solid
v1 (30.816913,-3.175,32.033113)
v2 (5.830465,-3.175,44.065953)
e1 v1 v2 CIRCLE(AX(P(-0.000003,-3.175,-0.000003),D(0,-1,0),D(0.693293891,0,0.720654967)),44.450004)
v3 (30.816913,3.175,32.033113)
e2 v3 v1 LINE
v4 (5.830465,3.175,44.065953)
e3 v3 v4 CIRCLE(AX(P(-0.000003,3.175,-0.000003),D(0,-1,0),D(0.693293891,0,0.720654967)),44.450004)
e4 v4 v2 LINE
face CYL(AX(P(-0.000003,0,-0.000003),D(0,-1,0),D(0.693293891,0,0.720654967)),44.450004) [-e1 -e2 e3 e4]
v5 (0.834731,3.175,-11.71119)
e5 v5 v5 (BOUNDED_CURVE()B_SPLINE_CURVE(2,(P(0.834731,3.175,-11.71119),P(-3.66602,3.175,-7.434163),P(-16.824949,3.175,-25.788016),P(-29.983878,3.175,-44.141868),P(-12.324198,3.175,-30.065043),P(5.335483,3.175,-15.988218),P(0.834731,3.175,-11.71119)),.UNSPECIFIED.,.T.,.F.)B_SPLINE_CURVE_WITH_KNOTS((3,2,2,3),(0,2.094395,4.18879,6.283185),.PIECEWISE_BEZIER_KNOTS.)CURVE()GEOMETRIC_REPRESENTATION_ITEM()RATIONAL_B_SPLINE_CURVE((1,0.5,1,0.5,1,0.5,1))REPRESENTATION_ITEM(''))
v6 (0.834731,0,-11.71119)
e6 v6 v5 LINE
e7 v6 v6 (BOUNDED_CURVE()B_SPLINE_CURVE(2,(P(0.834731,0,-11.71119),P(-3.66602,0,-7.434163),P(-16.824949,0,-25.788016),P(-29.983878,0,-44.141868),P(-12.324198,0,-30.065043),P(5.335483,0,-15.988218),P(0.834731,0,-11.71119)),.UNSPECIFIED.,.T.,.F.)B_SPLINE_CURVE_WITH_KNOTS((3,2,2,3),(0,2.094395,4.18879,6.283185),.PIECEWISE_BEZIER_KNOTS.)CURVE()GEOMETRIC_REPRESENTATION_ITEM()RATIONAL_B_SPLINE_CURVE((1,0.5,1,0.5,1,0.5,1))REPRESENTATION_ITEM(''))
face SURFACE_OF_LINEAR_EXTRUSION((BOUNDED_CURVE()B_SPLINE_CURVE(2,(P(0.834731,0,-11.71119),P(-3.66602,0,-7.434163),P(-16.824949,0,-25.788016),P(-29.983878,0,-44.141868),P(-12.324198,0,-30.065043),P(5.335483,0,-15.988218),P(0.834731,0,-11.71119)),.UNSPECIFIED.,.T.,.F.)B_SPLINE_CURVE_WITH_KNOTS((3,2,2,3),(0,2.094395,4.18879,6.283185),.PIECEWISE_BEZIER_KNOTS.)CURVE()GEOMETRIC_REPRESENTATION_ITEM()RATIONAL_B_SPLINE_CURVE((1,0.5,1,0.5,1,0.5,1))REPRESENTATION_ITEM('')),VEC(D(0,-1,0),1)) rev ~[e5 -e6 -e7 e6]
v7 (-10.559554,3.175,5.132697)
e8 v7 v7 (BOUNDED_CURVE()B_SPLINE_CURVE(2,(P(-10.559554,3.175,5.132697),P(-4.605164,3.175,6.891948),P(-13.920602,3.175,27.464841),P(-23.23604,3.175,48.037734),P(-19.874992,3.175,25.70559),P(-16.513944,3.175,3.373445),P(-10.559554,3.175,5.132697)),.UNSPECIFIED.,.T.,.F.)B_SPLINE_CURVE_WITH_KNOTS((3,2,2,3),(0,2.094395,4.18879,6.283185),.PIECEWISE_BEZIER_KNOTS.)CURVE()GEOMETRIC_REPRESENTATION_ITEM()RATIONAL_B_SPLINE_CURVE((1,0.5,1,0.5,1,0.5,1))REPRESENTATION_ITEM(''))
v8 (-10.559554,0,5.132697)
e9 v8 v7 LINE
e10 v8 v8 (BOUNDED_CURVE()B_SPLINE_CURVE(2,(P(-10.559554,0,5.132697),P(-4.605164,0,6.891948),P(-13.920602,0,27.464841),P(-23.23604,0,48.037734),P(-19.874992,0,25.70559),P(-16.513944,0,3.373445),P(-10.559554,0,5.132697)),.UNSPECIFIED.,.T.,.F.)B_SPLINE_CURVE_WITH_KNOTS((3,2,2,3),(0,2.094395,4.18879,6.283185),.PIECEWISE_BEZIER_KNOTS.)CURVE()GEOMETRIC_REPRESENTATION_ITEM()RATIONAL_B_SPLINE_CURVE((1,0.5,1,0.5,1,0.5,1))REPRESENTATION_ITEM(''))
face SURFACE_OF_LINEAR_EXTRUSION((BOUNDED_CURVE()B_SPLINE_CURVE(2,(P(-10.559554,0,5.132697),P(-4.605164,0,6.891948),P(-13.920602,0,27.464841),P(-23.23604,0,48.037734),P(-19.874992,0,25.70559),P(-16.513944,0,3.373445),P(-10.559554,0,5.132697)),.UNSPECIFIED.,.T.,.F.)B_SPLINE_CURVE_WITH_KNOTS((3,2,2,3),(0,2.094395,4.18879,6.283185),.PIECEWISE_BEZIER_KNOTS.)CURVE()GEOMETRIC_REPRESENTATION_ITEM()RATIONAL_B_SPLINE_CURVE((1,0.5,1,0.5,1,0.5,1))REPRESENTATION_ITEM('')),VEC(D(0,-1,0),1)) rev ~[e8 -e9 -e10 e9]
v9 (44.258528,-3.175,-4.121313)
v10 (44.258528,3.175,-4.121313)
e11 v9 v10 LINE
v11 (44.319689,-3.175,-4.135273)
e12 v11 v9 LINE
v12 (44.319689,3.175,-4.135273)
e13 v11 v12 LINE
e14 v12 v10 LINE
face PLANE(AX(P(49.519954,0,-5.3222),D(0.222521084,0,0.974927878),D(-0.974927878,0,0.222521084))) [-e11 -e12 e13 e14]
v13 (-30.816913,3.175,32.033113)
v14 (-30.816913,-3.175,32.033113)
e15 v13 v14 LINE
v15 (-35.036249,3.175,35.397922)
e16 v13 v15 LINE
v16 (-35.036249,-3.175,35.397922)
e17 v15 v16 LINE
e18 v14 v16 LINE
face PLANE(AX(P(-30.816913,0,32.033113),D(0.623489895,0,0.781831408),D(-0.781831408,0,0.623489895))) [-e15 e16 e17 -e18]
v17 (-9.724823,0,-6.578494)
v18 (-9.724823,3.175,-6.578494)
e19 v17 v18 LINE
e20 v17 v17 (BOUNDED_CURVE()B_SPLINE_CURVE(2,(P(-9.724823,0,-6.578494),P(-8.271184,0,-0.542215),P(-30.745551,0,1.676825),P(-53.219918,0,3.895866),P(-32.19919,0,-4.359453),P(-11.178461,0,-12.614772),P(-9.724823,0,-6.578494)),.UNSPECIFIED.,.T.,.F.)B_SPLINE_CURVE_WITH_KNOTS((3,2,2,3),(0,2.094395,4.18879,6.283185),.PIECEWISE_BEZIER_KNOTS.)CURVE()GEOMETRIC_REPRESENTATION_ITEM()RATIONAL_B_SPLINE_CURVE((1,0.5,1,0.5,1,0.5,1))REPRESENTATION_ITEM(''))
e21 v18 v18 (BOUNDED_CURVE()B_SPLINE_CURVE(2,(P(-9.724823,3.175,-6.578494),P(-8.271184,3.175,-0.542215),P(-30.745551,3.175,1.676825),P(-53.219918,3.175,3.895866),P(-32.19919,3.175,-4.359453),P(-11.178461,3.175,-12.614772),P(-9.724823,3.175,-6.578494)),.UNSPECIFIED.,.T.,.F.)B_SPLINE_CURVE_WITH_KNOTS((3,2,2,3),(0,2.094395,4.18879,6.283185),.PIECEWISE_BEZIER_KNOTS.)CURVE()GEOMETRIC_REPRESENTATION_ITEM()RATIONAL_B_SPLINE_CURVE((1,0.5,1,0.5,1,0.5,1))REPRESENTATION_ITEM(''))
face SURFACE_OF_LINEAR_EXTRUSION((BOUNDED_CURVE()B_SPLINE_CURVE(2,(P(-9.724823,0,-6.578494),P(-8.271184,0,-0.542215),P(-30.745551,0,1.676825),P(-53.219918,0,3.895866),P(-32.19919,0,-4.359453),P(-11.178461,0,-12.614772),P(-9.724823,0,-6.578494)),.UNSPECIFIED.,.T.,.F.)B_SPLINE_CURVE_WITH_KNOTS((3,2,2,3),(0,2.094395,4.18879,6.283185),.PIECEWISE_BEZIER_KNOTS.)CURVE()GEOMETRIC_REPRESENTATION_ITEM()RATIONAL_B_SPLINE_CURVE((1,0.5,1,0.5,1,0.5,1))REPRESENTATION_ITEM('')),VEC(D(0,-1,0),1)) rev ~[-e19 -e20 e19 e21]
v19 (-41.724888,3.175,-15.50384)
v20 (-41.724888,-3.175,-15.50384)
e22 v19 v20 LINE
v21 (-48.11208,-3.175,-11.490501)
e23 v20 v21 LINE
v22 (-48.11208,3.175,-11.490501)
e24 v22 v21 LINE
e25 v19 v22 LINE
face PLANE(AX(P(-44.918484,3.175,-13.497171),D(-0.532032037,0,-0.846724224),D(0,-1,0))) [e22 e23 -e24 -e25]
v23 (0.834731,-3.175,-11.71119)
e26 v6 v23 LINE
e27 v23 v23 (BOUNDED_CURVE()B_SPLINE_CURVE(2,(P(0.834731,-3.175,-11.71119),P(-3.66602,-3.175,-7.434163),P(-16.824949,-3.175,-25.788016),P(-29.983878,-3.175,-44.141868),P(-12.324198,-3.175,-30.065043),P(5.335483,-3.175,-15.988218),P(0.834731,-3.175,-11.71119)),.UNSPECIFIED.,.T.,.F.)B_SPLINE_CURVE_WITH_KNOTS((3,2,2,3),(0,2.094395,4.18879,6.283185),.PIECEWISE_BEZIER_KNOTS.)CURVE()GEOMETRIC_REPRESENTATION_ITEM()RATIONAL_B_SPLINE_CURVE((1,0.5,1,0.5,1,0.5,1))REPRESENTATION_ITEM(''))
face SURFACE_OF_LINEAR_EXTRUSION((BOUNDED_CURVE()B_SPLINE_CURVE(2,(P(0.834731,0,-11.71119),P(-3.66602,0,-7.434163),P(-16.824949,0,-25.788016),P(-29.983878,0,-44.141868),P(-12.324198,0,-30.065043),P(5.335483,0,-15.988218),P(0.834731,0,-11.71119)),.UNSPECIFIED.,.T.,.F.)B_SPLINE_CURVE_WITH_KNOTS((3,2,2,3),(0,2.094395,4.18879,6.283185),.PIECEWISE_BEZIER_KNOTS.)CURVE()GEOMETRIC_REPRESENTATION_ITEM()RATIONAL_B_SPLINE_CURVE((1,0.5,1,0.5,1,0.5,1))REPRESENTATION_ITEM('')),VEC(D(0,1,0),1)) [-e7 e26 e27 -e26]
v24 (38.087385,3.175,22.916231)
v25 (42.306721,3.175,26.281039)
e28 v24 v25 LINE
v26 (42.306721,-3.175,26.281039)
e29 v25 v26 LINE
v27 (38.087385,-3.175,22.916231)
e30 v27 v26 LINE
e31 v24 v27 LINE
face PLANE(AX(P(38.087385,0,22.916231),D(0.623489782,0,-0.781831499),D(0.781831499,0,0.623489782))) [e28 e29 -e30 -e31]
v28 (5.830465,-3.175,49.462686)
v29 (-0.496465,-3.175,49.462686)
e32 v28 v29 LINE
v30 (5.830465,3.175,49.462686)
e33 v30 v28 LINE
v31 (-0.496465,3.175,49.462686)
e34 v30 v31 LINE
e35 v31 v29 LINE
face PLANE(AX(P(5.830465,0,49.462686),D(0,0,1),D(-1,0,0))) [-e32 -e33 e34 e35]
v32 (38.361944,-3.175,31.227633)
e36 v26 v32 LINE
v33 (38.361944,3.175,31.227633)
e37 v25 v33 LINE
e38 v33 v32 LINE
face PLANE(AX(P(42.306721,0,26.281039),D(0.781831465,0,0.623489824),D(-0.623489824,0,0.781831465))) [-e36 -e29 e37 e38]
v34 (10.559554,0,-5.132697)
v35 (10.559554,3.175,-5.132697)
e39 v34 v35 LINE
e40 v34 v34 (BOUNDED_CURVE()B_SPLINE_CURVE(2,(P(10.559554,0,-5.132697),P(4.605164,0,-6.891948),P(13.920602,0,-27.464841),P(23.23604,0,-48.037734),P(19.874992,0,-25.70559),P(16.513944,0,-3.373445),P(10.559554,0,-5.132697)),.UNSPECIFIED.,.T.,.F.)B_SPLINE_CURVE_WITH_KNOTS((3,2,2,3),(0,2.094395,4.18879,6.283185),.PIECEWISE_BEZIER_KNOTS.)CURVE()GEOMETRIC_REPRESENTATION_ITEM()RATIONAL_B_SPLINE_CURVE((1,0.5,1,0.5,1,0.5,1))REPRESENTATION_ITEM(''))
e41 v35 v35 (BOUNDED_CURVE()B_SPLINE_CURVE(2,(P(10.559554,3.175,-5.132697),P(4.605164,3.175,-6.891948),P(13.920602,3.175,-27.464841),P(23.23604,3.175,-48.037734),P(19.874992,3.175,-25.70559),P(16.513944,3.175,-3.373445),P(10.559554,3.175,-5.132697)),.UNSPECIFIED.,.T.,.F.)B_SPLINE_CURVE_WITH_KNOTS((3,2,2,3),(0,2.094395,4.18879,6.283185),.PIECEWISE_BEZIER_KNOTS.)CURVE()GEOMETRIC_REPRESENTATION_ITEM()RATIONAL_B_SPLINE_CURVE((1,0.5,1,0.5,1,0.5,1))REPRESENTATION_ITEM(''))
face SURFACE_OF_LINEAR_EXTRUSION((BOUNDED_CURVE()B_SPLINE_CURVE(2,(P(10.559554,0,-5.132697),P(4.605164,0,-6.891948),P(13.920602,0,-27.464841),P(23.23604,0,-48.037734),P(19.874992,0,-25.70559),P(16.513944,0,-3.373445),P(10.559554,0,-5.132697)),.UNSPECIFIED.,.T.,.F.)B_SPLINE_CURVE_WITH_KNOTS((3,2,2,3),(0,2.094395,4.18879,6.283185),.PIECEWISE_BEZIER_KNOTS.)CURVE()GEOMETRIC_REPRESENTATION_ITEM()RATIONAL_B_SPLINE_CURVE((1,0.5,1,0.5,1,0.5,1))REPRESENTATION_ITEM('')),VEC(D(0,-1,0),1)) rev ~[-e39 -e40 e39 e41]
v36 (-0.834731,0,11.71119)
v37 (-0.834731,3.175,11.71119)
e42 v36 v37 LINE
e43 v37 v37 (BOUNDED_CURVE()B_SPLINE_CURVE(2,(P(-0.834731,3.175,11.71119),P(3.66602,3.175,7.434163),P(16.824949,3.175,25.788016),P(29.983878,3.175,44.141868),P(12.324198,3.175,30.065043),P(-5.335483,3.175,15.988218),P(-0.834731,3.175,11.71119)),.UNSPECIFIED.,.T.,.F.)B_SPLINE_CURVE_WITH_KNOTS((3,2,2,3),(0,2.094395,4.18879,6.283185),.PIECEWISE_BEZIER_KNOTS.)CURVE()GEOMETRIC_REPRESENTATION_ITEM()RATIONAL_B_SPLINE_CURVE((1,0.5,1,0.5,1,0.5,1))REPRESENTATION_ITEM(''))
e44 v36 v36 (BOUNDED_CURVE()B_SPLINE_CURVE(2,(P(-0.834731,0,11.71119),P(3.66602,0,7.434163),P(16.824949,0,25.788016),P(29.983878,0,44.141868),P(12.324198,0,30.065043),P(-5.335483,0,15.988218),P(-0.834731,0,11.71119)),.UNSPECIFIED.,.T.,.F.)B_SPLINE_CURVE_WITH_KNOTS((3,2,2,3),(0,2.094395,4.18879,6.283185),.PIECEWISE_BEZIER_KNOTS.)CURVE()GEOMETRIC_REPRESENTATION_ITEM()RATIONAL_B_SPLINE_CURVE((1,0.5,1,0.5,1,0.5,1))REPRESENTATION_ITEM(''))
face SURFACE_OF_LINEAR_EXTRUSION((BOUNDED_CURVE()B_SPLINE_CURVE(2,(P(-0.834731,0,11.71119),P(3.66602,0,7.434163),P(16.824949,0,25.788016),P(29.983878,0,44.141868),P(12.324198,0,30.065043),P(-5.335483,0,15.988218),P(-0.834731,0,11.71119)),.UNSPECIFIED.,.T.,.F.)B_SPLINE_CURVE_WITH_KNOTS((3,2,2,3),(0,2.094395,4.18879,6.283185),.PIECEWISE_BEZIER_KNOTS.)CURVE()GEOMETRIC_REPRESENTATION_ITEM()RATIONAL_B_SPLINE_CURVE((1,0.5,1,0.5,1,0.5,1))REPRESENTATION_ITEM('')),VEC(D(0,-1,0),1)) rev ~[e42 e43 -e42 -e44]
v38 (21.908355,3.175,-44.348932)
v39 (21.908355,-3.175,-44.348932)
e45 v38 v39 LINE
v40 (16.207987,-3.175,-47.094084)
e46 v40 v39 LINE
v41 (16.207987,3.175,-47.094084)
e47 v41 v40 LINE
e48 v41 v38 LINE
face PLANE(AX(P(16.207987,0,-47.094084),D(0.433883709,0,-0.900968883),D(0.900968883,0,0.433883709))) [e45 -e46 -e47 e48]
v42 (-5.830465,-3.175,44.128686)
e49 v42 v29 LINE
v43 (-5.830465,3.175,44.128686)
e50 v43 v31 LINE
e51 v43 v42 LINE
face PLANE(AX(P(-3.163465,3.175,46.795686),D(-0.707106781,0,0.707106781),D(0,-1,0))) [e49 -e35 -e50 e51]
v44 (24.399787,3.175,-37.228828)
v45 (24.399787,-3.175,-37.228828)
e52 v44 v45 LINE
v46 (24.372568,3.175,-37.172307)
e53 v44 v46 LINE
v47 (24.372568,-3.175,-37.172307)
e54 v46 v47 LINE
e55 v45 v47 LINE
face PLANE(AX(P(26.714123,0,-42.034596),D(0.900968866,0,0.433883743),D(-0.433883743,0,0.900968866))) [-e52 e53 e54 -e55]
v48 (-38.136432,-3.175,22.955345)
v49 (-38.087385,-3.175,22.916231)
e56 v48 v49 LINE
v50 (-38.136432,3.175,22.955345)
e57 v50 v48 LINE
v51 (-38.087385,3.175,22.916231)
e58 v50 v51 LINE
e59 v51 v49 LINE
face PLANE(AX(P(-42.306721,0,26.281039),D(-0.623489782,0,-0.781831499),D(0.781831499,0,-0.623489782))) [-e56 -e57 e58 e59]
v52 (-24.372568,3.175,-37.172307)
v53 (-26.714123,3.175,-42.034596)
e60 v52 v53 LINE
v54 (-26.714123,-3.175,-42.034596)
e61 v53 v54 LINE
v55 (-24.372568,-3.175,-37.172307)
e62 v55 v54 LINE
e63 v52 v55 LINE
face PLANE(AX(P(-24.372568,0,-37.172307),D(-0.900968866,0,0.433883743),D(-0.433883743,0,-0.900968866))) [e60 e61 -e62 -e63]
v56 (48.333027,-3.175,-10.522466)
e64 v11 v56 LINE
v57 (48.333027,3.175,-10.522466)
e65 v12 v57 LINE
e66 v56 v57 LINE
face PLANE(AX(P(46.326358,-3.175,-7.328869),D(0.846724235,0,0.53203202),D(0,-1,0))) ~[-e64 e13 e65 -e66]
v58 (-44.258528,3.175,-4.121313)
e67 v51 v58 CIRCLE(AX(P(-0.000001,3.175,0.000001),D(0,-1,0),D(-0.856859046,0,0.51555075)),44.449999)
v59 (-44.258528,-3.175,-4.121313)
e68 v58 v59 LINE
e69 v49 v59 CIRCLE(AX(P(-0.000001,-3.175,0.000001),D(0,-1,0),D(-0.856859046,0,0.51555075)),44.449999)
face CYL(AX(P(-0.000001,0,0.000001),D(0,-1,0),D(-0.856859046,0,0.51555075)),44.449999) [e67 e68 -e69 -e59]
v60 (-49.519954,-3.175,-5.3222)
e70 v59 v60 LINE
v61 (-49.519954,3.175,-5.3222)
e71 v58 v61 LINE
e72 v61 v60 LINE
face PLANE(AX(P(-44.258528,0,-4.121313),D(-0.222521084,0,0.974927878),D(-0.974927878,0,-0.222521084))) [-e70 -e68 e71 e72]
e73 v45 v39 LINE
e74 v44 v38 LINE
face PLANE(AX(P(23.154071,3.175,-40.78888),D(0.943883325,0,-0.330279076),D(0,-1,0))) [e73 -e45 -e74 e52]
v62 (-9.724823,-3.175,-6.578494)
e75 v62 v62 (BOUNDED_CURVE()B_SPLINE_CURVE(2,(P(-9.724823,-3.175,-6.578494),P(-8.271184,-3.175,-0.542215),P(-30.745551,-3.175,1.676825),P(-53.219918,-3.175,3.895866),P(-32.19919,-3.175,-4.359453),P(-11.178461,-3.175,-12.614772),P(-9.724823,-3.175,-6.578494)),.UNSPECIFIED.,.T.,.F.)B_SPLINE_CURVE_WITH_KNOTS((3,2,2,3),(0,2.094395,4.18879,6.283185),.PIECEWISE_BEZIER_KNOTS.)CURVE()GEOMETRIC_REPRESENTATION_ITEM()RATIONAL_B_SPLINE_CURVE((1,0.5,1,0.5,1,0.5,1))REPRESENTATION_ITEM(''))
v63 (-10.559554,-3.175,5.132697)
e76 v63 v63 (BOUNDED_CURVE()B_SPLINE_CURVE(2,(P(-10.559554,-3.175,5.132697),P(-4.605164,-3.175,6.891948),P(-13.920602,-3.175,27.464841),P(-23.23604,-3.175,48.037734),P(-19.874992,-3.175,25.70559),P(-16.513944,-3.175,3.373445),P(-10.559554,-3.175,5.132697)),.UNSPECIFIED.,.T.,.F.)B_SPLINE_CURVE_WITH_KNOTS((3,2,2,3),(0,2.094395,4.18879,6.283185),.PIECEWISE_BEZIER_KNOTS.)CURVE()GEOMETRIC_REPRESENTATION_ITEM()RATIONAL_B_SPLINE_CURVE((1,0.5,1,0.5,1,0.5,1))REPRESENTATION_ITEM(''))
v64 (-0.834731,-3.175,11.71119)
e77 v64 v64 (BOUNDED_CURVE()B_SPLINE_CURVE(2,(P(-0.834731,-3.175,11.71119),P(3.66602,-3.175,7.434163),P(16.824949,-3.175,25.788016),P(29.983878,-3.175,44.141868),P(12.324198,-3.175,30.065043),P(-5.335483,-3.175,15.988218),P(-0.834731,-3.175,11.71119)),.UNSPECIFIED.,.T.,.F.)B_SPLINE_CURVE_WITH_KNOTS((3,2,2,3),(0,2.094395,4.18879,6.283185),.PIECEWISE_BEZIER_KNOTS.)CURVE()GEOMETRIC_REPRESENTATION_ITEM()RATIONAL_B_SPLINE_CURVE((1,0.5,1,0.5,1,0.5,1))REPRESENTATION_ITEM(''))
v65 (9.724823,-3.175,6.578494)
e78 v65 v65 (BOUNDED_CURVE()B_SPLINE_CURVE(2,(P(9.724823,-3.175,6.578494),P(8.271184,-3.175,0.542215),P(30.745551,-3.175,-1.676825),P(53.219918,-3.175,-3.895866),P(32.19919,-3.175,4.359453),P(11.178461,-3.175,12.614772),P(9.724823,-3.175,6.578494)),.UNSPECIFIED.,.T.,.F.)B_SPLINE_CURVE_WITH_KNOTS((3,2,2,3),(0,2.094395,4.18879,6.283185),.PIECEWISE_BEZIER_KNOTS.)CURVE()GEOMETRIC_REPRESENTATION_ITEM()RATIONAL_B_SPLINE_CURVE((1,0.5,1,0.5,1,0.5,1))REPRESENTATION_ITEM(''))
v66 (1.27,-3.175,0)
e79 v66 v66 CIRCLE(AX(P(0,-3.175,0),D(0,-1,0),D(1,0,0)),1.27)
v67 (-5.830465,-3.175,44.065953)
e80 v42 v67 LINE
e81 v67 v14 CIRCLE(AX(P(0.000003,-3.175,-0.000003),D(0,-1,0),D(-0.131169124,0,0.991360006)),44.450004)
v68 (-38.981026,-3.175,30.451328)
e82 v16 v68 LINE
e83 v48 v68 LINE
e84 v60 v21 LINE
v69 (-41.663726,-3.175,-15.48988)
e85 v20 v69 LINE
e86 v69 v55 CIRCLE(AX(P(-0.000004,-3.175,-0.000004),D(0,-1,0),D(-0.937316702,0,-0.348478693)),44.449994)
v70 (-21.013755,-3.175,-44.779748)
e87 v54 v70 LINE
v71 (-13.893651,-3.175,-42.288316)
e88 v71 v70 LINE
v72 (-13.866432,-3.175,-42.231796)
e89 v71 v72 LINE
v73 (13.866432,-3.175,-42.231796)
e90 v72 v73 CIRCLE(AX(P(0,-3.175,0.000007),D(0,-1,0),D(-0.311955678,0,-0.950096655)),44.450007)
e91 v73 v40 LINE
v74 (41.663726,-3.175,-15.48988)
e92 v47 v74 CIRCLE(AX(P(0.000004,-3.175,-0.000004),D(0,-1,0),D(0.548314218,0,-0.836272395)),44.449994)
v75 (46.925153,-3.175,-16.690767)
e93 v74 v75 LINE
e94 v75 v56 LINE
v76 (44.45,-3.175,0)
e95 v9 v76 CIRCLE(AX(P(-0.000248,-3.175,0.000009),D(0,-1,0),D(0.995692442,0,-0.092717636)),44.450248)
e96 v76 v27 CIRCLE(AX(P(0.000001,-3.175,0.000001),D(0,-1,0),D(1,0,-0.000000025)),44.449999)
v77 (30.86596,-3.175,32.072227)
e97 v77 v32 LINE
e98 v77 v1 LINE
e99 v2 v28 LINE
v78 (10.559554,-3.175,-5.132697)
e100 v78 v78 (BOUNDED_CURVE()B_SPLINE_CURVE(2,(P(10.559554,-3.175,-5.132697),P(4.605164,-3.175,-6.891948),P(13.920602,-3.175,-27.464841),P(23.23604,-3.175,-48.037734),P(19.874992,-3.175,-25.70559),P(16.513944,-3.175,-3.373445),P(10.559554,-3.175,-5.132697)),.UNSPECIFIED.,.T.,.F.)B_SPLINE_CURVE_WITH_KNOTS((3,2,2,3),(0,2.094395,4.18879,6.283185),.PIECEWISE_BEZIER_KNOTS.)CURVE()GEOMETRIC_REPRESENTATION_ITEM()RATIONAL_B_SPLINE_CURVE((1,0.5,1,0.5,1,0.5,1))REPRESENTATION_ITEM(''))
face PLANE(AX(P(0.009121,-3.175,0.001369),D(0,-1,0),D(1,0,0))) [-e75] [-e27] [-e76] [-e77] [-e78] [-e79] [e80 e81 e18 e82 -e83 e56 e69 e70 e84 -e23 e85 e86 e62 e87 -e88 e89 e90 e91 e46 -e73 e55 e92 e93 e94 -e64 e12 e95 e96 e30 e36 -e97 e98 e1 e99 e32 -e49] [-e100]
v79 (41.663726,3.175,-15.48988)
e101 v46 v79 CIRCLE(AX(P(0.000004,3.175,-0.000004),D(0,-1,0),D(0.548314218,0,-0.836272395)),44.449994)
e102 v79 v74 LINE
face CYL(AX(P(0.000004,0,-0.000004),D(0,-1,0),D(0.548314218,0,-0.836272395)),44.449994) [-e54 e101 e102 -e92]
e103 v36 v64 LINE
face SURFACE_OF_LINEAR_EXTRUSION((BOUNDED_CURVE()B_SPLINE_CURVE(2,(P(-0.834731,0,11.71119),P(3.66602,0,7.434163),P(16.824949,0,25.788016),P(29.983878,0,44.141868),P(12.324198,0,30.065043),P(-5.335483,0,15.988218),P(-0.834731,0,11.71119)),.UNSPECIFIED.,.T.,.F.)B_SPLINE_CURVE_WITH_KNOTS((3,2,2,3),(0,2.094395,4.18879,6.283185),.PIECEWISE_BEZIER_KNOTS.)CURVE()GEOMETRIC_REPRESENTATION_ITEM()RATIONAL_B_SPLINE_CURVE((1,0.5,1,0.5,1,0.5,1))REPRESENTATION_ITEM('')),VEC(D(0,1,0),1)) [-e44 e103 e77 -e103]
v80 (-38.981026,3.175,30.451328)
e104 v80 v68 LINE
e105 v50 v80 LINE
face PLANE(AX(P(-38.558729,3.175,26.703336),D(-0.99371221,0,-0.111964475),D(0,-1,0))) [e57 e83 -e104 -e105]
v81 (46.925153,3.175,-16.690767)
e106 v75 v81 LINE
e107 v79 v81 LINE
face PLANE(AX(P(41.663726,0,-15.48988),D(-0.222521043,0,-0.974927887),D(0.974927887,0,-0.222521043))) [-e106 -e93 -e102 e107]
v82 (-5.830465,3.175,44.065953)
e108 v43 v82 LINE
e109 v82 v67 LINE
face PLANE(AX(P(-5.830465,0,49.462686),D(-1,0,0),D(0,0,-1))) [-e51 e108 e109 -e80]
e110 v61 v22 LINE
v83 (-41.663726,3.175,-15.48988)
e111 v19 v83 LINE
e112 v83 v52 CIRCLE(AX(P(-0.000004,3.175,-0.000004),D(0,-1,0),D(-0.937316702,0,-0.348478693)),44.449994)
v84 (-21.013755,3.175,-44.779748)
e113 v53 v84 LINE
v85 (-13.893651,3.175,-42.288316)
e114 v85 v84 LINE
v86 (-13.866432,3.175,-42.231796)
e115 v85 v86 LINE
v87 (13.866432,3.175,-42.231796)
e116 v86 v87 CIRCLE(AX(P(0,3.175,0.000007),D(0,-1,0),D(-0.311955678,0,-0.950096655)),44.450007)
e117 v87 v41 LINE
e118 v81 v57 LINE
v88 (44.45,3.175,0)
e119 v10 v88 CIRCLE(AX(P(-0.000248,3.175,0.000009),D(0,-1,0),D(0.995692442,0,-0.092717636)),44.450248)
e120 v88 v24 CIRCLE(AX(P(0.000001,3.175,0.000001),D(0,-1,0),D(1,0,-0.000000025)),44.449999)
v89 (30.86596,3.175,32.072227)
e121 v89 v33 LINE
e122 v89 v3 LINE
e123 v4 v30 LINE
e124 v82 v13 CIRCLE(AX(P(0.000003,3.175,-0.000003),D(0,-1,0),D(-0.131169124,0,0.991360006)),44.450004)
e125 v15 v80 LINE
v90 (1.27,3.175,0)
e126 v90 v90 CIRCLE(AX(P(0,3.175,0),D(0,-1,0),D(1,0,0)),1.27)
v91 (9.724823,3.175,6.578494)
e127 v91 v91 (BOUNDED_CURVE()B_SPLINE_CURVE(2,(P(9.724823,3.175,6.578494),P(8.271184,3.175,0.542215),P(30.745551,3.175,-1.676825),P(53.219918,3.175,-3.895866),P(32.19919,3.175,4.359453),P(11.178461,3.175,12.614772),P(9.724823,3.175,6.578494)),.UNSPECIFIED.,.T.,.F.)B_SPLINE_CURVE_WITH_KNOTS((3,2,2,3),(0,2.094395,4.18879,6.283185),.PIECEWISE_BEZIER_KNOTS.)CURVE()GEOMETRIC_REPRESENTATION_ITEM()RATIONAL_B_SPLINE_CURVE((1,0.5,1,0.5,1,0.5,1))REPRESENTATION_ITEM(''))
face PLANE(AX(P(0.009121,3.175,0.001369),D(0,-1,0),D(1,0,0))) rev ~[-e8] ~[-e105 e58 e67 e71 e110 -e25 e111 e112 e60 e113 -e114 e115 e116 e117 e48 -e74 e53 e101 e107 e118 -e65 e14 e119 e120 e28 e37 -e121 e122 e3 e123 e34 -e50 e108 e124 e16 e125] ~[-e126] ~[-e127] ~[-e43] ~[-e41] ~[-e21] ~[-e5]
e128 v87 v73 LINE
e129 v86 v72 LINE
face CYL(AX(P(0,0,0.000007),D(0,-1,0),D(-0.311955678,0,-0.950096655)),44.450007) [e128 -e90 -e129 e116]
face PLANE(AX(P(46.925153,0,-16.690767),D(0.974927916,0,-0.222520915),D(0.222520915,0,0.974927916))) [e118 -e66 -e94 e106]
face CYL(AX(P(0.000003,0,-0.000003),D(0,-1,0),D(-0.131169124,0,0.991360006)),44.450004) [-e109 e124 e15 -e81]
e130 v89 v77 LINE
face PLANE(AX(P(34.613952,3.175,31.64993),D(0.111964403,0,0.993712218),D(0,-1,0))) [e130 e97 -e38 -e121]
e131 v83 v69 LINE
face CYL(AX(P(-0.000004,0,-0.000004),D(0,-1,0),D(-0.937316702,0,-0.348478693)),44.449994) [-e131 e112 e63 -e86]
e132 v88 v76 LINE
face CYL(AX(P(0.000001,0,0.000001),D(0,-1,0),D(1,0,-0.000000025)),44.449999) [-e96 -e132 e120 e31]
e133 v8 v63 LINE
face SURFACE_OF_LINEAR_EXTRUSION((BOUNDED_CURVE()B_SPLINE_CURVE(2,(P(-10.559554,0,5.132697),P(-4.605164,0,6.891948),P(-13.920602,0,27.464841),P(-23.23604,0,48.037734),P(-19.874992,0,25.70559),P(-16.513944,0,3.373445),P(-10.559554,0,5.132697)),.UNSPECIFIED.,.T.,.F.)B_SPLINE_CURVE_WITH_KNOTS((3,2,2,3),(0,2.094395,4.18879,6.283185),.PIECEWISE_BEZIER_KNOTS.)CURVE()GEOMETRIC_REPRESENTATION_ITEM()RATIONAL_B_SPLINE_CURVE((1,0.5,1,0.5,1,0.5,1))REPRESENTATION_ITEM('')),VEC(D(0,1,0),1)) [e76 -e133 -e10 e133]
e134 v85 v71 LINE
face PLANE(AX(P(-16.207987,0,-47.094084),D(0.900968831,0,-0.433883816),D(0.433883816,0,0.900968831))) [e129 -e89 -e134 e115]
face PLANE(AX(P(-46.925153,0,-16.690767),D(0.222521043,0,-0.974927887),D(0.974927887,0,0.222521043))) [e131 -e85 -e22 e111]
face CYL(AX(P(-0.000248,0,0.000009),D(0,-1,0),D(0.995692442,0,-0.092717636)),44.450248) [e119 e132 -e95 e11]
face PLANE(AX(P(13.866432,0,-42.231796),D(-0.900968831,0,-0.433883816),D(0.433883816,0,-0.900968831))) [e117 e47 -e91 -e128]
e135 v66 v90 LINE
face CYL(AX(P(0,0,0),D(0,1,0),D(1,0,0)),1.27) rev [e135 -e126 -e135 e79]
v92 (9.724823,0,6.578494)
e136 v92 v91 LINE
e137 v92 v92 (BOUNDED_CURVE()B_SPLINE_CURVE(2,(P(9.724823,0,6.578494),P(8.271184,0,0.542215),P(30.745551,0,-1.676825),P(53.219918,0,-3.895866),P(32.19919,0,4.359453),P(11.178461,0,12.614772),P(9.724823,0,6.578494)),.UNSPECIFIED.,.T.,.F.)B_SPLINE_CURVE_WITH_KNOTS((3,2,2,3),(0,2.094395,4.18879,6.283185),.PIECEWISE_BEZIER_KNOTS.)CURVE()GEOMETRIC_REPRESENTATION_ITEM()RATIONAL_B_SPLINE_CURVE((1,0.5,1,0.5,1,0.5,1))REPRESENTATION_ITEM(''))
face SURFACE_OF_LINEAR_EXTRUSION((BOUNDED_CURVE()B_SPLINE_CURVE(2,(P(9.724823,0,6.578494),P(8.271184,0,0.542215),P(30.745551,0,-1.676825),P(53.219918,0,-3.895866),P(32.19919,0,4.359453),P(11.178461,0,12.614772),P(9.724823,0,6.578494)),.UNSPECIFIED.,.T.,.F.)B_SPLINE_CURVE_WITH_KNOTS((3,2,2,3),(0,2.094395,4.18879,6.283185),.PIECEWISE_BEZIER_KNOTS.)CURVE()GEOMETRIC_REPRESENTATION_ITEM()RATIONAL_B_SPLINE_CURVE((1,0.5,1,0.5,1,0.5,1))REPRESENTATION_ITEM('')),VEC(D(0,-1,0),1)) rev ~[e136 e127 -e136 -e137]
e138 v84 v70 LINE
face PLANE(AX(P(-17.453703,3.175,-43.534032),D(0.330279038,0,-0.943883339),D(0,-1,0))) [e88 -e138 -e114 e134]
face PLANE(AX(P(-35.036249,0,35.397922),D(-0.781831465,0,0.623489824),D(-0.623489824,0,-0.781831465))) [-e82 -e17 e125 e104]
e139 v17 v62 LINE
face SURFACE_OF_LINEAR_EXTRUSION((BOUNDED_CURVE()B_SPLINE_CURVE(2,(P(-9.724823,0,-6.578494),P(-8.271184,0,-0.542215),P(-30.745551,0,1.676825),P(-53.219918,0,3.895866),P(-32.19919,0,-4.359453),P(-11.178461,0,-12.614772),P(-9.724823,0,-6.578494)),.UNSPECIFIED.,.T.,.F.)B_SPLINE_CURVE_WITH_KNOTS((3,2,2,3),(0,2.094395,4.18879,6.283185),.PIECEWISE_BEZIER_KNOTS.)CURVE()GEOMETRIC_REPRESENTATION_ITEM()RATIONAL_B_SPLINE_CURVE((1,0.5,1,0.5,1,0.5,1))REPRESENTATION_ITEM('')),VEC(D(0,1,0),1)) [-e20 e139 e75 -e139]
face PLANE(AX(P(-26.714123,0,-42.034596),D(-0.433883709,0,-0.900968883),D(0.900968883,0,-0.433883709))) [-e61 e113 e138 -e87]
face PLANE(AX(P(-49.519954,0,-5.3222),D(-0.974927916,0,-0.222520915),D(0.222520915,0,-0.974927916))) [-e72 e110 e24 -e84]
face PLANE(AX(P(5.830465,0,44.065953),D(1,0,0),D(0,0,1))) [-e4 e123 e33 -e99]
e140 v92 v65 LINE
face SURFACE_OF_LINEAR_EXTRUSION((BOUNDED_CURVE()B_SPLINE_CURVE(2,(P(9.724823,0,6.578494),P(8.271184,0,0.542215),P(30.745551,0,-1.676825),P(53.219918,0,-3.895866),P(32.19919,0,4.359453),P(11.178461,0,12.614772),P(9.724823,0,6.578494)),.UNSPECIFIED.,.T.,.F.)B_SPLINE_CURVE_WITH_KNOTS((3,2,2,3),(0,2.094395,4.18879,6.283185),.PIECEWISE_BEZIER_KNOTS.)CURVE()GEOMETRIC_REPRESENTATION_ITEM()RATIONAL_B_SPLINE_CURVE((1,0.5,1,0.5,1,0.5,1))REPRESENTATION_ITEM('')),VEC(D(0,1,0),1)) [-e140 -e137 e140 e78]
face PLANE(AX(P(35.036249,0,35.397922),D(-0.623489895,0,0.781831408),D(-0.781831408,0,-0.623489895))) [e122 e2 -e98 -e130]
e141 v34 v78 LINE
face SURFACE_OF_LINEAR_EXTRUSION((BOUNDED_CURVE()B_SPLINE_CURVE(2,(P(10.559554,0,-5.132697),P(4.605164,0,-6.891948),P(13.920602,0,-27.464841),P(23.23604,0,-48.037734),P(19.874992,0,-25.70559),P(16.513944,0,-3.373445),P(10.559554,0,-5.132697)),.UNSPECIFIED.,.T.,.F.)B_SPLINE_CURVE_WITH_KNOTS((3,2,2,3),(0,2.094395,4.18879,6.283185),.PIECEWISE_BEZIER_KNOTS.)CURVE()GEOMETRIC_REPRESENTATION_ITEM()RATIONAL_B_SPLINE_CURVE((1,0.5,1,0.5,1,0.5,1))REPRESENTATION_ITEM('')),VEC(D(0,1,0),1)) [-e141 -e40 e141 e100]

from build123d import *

# Parameters (mm, degrees)
F0_R     = 1.27
F1_DEPTH = 3.175
F2_SIZE  = 5.334


with BuildPart() as f1:
    # F0 (on Front) → F1 (new body, symmetric)
    with BuildSketch(Plane.XZ):
        with BuildLine():
            ThreePointArc((44.258528, -4.121313), (44.402106, -2.062879), (44.45, 0))
            ThreePointArc((44.45, 0), (42.829819, 11.891557), (38.087385, 22.916231))
            ThreePointArc((38.087385, 22.916231), (34.752409, 27.714122), (30.816913, 32.033113))
            ThreePointArc((30.816913, 32.033113), (19.286132, 40.048066), (5.830465, 44.065953))
            ThreePointArc((5.830465, 44.065953), (0, 44.45), (-5.830465, 44.065953))
            ThreePointArc((-5.830465, 44.065953), (-19.286132, 40.048066), (-30.816913, 32.033113))
            ThreePointArc((-30.816913, 32.033113), (-34.752409, 27.714122), (-38.087385, 22.916231))
            ThreePointArc((-38.087385, 22.916231), (-43.335546, 9.891056), (-44.258528, -4.121313))
            ThreePointArc((-44.258528, -4.121313), (-43.335546, -9.891056), (-41.663726, -15.48988))
            ThreePointArc((-41.663726, -15.48988), (-34.752409, -27.714122), (-24.372568, -37.172307))
            ThreePointArc((-24.372568, -37.172307), (-19.286132, -40.048066), (-13.866432, -42.231796))
            ThreePointArc((-13.866432, -42.231796), (0, -44.45), (13.866432, -42.231796))
            ThreePointArc((13.866432, -42.231796), (19.286132, -40.048066), (24.372568, -37.172307))
            ThreePointArc((24.372568, -37.172307), (34.752409, -27.714122), (41.663726, -15.48988))
            ThreePointArc((41.663726, -15.48988), (43.335546, -9.891056), (44.258528, -4.121313))
        make_face()
        with BuildLine():
            add(Edge.make_bspline(
                [(0.834731, -11.71119), (-3.66602, -7.434163), (-16.824949, -25.788016), (-29.983878, -44.141868), (-12.324198, -30.065043), (5.335483, -15.988218), (0.834731, -11.71119)],
                knots=[0, 0, 0, 2.094395, 2.094395, 4.18879, 4.18879, 6.283185, 6.283185, 6.283185], degree=2, weights=[1, 0.5, 1, 0.5, 1, 0.5, 1]))
        make_face(mode=Mode.SUBTRACT)
        with BuildLine():
            add(Edge.make_bspline(
                [(-9.724823, -6.578494), (-8.271184, -0.542215), (-30.745551, 1.676825), (-53.219918, 3.895866), (-32.19919, -4.359453), (-11.178461, -12.614772), (-9.724823, -6.578494)],
                knots=[0, 0, 0, 2.094395, 2.094395, 4.18879, 4.18879, 6.283185, 6.283185, 6.283185], degree=2, weights=[1, 0.5, 1, 0.5, 1, 0.5, 1]))
        make_face(mode=Mode.SUBTRACT)
        with BuildLine():
            add(Edge.make_bspline(
                [(10.559554, -5.132697), (4.605164, -6.891948), (13.920602, -27.464841), (23.23604, -48.037734), (19.874992, -25.70559), (16.513944, -3.373445), (10.559554, -5.132697)],
                knots=[0, 0, 0, 2.094395, 2.094395, 4.18879, 4.18879, 6.283185, 6.283185, 6.283185], degree=2, weights=[1, 0.5, 1, 0.5, 1, 0.5, 1]))
        make_face(mode=Mode.SUBTRACT)
        Circle(F0_R, mode=Mode.SUBTRACT)
        with BuildLine():
            add(Edge.make_bspline(
                [(-10.559554, 5.132697), (-4.605164, 6.891948), (-13.920602, 27.464841), (-23.23604, 48.037734), (-19.874992, 25.70559), (-16.513944, 3.373445), (-10.559554, 5.132697)],
                knots=[0, 0, 0, 2.094395, 2.094395, 4.18879, 4.18879, 6.283185, 6.283185, 6.283185], degree=2, weights=[1, 0.5, 1, 0.5, 1, 0.5, 1]))
        make_face(mode=Mode.SUBTRACT)
        with BuildLine():
            add(Edge.make_bspline(
                [(9.724823, 6.578494), (8.271184, 0.542215), (30.745551, -1.676825), (53.219918, -3.895866), (32.19919, 4.359453), (11.178461, 12.614772), (9.724823, 6.578494)],
                knots=[0, 0, 0, 2.094395, 2.094395, 4.18879, 4.18879, 6.283185, 6.283185, 6.283185], degree=2, weights=[1, 0.5, 1, 0.5, 1, 0.5, 1]))
        make_face(mode=Mode.SUBTRACT)
        with BuildLine():
            add(Edge.make_bspline(
                [(-0.834731, 11.71119), (3.66602, 7.434163), (16.824949, 25.788016), (29.983878, 44.141868), (12.324198, 30.065043), (-5.335483, 15.988218), (-0.834731, 11.71119)],
                knots=[0, 0, 0, 2.094395, 2.094395, 4.18879, 4.18879, 6.283185, 6.283185, 6.283185], degree=2, weights=[1, 0.5, 1, 0.5, 1, 0.5, 1]))
        make_face(mode=Mode.SUBTRACT)
        with BuildLine():
            ThreePointArc((-38.087385, 22.916231), (-34.752409, 27.714122), (-30.816913, 32.033113))
            Line((-30.816913, 32.033113), (-35.036249, 35.397922))
            Line((-35.036249, 35.397922), (-42.306721, 26.281039))
            Line((-42.306721, 26.281039), (-38.087385, 22.916231))
        make_face()
        with BuildLine():
            ThreePointArc((-5.830465, 44.065953), (0, 44.45), (5.830465, 44.065953))
            Line((5.830465, 44.065953), (5.830465, 49.462686))
            Line((5.830465, 49.462686), (-5.830465, 49.462686))
            Line((-5.830465, 49.462686), (-5.830465, 44.065953))
        make_face()
        with BuildLine():
            ThreePointArc((30.816913, 32.033113), (34.752409, 27.714122), (38.087385, 22.916231))
            Line((38.087385, 22.916231), (42.306721, 26.281039))
            Line((42.306721, 26.281039), (35.036249, 35.397922))
            Line((35.036249, 35.397922), (30.816913, 32.033113))
        make_face()
        with BuildLine():
            Line((49.519954, -5.3222), (44.258528, -4.121313))
            ThreePointArc((44.258528, -4.121313), (43.335546, -9.891056), (41.663726, -15.48988))
            Line((41.663726, -15.48988), (46.925153, -16.690767))
            Line((46.925153, -16.690767), (49.519954, -5.3222))
        make_face()
        with BuildLine():
            Line((26.714123, -42.034596), (24.372568, -37.172307))
            ThreePointArc((24.372568, -37.172307), (19.286132, -40.048066), (13.866432, -42.231796))
            Line((13.866432, -42.231796), (16.207987, -47.094084))
            Line((16.207987, -47.094084), (26.714123, -42.034596))
        make_face()
        with BuildLine():
            Line((-16.207987, -47.094084), (-13.866432, -42.231796))
            ThreePointArc((-13.866432, -42.231796), (-19.286132, -40.048066), (-24.372568, -37.172307))
            Line((-24.372568, -37.172307), (-26.714123, -42.034596))
            Line((-26.714123, -42.034596), (-16.207987, -47.094084))
        make_face()
        with BuildLine():
            ThreePointArc((-41.663726, -15.48988), (-43.335546, -9.891056), (-44.258528, -4.121313))
            Line((-44.258528, -4.121313), (-49.519954, -5.3222))
            Line((-49.519954, -5.3222), (-46.925153, -16.690767))
            Line((-46.925153, -16.690767), (-41.663726, -15.48988))
        make_face()
    extrude(amount=F1_DEPTH, both=True)

    # F2
    f2_edges = [f1.edges().sort_by_distance(p)[0] for p in [
        (-42.306721, 0, 26.281039),
        (-46.925153, 0, -16.690767),
        (-5.830465, 0, 49.462686),
        (35.036249, 0, 35.397922),
        (49.519954, 0, -5.3222),
        (26.714123, 0, -42.034596),
        (-16.207987, 0, -47.094084),
    ]]
    chamfer(f2_edges, length=F2_SIZE)


solid = f1.part
